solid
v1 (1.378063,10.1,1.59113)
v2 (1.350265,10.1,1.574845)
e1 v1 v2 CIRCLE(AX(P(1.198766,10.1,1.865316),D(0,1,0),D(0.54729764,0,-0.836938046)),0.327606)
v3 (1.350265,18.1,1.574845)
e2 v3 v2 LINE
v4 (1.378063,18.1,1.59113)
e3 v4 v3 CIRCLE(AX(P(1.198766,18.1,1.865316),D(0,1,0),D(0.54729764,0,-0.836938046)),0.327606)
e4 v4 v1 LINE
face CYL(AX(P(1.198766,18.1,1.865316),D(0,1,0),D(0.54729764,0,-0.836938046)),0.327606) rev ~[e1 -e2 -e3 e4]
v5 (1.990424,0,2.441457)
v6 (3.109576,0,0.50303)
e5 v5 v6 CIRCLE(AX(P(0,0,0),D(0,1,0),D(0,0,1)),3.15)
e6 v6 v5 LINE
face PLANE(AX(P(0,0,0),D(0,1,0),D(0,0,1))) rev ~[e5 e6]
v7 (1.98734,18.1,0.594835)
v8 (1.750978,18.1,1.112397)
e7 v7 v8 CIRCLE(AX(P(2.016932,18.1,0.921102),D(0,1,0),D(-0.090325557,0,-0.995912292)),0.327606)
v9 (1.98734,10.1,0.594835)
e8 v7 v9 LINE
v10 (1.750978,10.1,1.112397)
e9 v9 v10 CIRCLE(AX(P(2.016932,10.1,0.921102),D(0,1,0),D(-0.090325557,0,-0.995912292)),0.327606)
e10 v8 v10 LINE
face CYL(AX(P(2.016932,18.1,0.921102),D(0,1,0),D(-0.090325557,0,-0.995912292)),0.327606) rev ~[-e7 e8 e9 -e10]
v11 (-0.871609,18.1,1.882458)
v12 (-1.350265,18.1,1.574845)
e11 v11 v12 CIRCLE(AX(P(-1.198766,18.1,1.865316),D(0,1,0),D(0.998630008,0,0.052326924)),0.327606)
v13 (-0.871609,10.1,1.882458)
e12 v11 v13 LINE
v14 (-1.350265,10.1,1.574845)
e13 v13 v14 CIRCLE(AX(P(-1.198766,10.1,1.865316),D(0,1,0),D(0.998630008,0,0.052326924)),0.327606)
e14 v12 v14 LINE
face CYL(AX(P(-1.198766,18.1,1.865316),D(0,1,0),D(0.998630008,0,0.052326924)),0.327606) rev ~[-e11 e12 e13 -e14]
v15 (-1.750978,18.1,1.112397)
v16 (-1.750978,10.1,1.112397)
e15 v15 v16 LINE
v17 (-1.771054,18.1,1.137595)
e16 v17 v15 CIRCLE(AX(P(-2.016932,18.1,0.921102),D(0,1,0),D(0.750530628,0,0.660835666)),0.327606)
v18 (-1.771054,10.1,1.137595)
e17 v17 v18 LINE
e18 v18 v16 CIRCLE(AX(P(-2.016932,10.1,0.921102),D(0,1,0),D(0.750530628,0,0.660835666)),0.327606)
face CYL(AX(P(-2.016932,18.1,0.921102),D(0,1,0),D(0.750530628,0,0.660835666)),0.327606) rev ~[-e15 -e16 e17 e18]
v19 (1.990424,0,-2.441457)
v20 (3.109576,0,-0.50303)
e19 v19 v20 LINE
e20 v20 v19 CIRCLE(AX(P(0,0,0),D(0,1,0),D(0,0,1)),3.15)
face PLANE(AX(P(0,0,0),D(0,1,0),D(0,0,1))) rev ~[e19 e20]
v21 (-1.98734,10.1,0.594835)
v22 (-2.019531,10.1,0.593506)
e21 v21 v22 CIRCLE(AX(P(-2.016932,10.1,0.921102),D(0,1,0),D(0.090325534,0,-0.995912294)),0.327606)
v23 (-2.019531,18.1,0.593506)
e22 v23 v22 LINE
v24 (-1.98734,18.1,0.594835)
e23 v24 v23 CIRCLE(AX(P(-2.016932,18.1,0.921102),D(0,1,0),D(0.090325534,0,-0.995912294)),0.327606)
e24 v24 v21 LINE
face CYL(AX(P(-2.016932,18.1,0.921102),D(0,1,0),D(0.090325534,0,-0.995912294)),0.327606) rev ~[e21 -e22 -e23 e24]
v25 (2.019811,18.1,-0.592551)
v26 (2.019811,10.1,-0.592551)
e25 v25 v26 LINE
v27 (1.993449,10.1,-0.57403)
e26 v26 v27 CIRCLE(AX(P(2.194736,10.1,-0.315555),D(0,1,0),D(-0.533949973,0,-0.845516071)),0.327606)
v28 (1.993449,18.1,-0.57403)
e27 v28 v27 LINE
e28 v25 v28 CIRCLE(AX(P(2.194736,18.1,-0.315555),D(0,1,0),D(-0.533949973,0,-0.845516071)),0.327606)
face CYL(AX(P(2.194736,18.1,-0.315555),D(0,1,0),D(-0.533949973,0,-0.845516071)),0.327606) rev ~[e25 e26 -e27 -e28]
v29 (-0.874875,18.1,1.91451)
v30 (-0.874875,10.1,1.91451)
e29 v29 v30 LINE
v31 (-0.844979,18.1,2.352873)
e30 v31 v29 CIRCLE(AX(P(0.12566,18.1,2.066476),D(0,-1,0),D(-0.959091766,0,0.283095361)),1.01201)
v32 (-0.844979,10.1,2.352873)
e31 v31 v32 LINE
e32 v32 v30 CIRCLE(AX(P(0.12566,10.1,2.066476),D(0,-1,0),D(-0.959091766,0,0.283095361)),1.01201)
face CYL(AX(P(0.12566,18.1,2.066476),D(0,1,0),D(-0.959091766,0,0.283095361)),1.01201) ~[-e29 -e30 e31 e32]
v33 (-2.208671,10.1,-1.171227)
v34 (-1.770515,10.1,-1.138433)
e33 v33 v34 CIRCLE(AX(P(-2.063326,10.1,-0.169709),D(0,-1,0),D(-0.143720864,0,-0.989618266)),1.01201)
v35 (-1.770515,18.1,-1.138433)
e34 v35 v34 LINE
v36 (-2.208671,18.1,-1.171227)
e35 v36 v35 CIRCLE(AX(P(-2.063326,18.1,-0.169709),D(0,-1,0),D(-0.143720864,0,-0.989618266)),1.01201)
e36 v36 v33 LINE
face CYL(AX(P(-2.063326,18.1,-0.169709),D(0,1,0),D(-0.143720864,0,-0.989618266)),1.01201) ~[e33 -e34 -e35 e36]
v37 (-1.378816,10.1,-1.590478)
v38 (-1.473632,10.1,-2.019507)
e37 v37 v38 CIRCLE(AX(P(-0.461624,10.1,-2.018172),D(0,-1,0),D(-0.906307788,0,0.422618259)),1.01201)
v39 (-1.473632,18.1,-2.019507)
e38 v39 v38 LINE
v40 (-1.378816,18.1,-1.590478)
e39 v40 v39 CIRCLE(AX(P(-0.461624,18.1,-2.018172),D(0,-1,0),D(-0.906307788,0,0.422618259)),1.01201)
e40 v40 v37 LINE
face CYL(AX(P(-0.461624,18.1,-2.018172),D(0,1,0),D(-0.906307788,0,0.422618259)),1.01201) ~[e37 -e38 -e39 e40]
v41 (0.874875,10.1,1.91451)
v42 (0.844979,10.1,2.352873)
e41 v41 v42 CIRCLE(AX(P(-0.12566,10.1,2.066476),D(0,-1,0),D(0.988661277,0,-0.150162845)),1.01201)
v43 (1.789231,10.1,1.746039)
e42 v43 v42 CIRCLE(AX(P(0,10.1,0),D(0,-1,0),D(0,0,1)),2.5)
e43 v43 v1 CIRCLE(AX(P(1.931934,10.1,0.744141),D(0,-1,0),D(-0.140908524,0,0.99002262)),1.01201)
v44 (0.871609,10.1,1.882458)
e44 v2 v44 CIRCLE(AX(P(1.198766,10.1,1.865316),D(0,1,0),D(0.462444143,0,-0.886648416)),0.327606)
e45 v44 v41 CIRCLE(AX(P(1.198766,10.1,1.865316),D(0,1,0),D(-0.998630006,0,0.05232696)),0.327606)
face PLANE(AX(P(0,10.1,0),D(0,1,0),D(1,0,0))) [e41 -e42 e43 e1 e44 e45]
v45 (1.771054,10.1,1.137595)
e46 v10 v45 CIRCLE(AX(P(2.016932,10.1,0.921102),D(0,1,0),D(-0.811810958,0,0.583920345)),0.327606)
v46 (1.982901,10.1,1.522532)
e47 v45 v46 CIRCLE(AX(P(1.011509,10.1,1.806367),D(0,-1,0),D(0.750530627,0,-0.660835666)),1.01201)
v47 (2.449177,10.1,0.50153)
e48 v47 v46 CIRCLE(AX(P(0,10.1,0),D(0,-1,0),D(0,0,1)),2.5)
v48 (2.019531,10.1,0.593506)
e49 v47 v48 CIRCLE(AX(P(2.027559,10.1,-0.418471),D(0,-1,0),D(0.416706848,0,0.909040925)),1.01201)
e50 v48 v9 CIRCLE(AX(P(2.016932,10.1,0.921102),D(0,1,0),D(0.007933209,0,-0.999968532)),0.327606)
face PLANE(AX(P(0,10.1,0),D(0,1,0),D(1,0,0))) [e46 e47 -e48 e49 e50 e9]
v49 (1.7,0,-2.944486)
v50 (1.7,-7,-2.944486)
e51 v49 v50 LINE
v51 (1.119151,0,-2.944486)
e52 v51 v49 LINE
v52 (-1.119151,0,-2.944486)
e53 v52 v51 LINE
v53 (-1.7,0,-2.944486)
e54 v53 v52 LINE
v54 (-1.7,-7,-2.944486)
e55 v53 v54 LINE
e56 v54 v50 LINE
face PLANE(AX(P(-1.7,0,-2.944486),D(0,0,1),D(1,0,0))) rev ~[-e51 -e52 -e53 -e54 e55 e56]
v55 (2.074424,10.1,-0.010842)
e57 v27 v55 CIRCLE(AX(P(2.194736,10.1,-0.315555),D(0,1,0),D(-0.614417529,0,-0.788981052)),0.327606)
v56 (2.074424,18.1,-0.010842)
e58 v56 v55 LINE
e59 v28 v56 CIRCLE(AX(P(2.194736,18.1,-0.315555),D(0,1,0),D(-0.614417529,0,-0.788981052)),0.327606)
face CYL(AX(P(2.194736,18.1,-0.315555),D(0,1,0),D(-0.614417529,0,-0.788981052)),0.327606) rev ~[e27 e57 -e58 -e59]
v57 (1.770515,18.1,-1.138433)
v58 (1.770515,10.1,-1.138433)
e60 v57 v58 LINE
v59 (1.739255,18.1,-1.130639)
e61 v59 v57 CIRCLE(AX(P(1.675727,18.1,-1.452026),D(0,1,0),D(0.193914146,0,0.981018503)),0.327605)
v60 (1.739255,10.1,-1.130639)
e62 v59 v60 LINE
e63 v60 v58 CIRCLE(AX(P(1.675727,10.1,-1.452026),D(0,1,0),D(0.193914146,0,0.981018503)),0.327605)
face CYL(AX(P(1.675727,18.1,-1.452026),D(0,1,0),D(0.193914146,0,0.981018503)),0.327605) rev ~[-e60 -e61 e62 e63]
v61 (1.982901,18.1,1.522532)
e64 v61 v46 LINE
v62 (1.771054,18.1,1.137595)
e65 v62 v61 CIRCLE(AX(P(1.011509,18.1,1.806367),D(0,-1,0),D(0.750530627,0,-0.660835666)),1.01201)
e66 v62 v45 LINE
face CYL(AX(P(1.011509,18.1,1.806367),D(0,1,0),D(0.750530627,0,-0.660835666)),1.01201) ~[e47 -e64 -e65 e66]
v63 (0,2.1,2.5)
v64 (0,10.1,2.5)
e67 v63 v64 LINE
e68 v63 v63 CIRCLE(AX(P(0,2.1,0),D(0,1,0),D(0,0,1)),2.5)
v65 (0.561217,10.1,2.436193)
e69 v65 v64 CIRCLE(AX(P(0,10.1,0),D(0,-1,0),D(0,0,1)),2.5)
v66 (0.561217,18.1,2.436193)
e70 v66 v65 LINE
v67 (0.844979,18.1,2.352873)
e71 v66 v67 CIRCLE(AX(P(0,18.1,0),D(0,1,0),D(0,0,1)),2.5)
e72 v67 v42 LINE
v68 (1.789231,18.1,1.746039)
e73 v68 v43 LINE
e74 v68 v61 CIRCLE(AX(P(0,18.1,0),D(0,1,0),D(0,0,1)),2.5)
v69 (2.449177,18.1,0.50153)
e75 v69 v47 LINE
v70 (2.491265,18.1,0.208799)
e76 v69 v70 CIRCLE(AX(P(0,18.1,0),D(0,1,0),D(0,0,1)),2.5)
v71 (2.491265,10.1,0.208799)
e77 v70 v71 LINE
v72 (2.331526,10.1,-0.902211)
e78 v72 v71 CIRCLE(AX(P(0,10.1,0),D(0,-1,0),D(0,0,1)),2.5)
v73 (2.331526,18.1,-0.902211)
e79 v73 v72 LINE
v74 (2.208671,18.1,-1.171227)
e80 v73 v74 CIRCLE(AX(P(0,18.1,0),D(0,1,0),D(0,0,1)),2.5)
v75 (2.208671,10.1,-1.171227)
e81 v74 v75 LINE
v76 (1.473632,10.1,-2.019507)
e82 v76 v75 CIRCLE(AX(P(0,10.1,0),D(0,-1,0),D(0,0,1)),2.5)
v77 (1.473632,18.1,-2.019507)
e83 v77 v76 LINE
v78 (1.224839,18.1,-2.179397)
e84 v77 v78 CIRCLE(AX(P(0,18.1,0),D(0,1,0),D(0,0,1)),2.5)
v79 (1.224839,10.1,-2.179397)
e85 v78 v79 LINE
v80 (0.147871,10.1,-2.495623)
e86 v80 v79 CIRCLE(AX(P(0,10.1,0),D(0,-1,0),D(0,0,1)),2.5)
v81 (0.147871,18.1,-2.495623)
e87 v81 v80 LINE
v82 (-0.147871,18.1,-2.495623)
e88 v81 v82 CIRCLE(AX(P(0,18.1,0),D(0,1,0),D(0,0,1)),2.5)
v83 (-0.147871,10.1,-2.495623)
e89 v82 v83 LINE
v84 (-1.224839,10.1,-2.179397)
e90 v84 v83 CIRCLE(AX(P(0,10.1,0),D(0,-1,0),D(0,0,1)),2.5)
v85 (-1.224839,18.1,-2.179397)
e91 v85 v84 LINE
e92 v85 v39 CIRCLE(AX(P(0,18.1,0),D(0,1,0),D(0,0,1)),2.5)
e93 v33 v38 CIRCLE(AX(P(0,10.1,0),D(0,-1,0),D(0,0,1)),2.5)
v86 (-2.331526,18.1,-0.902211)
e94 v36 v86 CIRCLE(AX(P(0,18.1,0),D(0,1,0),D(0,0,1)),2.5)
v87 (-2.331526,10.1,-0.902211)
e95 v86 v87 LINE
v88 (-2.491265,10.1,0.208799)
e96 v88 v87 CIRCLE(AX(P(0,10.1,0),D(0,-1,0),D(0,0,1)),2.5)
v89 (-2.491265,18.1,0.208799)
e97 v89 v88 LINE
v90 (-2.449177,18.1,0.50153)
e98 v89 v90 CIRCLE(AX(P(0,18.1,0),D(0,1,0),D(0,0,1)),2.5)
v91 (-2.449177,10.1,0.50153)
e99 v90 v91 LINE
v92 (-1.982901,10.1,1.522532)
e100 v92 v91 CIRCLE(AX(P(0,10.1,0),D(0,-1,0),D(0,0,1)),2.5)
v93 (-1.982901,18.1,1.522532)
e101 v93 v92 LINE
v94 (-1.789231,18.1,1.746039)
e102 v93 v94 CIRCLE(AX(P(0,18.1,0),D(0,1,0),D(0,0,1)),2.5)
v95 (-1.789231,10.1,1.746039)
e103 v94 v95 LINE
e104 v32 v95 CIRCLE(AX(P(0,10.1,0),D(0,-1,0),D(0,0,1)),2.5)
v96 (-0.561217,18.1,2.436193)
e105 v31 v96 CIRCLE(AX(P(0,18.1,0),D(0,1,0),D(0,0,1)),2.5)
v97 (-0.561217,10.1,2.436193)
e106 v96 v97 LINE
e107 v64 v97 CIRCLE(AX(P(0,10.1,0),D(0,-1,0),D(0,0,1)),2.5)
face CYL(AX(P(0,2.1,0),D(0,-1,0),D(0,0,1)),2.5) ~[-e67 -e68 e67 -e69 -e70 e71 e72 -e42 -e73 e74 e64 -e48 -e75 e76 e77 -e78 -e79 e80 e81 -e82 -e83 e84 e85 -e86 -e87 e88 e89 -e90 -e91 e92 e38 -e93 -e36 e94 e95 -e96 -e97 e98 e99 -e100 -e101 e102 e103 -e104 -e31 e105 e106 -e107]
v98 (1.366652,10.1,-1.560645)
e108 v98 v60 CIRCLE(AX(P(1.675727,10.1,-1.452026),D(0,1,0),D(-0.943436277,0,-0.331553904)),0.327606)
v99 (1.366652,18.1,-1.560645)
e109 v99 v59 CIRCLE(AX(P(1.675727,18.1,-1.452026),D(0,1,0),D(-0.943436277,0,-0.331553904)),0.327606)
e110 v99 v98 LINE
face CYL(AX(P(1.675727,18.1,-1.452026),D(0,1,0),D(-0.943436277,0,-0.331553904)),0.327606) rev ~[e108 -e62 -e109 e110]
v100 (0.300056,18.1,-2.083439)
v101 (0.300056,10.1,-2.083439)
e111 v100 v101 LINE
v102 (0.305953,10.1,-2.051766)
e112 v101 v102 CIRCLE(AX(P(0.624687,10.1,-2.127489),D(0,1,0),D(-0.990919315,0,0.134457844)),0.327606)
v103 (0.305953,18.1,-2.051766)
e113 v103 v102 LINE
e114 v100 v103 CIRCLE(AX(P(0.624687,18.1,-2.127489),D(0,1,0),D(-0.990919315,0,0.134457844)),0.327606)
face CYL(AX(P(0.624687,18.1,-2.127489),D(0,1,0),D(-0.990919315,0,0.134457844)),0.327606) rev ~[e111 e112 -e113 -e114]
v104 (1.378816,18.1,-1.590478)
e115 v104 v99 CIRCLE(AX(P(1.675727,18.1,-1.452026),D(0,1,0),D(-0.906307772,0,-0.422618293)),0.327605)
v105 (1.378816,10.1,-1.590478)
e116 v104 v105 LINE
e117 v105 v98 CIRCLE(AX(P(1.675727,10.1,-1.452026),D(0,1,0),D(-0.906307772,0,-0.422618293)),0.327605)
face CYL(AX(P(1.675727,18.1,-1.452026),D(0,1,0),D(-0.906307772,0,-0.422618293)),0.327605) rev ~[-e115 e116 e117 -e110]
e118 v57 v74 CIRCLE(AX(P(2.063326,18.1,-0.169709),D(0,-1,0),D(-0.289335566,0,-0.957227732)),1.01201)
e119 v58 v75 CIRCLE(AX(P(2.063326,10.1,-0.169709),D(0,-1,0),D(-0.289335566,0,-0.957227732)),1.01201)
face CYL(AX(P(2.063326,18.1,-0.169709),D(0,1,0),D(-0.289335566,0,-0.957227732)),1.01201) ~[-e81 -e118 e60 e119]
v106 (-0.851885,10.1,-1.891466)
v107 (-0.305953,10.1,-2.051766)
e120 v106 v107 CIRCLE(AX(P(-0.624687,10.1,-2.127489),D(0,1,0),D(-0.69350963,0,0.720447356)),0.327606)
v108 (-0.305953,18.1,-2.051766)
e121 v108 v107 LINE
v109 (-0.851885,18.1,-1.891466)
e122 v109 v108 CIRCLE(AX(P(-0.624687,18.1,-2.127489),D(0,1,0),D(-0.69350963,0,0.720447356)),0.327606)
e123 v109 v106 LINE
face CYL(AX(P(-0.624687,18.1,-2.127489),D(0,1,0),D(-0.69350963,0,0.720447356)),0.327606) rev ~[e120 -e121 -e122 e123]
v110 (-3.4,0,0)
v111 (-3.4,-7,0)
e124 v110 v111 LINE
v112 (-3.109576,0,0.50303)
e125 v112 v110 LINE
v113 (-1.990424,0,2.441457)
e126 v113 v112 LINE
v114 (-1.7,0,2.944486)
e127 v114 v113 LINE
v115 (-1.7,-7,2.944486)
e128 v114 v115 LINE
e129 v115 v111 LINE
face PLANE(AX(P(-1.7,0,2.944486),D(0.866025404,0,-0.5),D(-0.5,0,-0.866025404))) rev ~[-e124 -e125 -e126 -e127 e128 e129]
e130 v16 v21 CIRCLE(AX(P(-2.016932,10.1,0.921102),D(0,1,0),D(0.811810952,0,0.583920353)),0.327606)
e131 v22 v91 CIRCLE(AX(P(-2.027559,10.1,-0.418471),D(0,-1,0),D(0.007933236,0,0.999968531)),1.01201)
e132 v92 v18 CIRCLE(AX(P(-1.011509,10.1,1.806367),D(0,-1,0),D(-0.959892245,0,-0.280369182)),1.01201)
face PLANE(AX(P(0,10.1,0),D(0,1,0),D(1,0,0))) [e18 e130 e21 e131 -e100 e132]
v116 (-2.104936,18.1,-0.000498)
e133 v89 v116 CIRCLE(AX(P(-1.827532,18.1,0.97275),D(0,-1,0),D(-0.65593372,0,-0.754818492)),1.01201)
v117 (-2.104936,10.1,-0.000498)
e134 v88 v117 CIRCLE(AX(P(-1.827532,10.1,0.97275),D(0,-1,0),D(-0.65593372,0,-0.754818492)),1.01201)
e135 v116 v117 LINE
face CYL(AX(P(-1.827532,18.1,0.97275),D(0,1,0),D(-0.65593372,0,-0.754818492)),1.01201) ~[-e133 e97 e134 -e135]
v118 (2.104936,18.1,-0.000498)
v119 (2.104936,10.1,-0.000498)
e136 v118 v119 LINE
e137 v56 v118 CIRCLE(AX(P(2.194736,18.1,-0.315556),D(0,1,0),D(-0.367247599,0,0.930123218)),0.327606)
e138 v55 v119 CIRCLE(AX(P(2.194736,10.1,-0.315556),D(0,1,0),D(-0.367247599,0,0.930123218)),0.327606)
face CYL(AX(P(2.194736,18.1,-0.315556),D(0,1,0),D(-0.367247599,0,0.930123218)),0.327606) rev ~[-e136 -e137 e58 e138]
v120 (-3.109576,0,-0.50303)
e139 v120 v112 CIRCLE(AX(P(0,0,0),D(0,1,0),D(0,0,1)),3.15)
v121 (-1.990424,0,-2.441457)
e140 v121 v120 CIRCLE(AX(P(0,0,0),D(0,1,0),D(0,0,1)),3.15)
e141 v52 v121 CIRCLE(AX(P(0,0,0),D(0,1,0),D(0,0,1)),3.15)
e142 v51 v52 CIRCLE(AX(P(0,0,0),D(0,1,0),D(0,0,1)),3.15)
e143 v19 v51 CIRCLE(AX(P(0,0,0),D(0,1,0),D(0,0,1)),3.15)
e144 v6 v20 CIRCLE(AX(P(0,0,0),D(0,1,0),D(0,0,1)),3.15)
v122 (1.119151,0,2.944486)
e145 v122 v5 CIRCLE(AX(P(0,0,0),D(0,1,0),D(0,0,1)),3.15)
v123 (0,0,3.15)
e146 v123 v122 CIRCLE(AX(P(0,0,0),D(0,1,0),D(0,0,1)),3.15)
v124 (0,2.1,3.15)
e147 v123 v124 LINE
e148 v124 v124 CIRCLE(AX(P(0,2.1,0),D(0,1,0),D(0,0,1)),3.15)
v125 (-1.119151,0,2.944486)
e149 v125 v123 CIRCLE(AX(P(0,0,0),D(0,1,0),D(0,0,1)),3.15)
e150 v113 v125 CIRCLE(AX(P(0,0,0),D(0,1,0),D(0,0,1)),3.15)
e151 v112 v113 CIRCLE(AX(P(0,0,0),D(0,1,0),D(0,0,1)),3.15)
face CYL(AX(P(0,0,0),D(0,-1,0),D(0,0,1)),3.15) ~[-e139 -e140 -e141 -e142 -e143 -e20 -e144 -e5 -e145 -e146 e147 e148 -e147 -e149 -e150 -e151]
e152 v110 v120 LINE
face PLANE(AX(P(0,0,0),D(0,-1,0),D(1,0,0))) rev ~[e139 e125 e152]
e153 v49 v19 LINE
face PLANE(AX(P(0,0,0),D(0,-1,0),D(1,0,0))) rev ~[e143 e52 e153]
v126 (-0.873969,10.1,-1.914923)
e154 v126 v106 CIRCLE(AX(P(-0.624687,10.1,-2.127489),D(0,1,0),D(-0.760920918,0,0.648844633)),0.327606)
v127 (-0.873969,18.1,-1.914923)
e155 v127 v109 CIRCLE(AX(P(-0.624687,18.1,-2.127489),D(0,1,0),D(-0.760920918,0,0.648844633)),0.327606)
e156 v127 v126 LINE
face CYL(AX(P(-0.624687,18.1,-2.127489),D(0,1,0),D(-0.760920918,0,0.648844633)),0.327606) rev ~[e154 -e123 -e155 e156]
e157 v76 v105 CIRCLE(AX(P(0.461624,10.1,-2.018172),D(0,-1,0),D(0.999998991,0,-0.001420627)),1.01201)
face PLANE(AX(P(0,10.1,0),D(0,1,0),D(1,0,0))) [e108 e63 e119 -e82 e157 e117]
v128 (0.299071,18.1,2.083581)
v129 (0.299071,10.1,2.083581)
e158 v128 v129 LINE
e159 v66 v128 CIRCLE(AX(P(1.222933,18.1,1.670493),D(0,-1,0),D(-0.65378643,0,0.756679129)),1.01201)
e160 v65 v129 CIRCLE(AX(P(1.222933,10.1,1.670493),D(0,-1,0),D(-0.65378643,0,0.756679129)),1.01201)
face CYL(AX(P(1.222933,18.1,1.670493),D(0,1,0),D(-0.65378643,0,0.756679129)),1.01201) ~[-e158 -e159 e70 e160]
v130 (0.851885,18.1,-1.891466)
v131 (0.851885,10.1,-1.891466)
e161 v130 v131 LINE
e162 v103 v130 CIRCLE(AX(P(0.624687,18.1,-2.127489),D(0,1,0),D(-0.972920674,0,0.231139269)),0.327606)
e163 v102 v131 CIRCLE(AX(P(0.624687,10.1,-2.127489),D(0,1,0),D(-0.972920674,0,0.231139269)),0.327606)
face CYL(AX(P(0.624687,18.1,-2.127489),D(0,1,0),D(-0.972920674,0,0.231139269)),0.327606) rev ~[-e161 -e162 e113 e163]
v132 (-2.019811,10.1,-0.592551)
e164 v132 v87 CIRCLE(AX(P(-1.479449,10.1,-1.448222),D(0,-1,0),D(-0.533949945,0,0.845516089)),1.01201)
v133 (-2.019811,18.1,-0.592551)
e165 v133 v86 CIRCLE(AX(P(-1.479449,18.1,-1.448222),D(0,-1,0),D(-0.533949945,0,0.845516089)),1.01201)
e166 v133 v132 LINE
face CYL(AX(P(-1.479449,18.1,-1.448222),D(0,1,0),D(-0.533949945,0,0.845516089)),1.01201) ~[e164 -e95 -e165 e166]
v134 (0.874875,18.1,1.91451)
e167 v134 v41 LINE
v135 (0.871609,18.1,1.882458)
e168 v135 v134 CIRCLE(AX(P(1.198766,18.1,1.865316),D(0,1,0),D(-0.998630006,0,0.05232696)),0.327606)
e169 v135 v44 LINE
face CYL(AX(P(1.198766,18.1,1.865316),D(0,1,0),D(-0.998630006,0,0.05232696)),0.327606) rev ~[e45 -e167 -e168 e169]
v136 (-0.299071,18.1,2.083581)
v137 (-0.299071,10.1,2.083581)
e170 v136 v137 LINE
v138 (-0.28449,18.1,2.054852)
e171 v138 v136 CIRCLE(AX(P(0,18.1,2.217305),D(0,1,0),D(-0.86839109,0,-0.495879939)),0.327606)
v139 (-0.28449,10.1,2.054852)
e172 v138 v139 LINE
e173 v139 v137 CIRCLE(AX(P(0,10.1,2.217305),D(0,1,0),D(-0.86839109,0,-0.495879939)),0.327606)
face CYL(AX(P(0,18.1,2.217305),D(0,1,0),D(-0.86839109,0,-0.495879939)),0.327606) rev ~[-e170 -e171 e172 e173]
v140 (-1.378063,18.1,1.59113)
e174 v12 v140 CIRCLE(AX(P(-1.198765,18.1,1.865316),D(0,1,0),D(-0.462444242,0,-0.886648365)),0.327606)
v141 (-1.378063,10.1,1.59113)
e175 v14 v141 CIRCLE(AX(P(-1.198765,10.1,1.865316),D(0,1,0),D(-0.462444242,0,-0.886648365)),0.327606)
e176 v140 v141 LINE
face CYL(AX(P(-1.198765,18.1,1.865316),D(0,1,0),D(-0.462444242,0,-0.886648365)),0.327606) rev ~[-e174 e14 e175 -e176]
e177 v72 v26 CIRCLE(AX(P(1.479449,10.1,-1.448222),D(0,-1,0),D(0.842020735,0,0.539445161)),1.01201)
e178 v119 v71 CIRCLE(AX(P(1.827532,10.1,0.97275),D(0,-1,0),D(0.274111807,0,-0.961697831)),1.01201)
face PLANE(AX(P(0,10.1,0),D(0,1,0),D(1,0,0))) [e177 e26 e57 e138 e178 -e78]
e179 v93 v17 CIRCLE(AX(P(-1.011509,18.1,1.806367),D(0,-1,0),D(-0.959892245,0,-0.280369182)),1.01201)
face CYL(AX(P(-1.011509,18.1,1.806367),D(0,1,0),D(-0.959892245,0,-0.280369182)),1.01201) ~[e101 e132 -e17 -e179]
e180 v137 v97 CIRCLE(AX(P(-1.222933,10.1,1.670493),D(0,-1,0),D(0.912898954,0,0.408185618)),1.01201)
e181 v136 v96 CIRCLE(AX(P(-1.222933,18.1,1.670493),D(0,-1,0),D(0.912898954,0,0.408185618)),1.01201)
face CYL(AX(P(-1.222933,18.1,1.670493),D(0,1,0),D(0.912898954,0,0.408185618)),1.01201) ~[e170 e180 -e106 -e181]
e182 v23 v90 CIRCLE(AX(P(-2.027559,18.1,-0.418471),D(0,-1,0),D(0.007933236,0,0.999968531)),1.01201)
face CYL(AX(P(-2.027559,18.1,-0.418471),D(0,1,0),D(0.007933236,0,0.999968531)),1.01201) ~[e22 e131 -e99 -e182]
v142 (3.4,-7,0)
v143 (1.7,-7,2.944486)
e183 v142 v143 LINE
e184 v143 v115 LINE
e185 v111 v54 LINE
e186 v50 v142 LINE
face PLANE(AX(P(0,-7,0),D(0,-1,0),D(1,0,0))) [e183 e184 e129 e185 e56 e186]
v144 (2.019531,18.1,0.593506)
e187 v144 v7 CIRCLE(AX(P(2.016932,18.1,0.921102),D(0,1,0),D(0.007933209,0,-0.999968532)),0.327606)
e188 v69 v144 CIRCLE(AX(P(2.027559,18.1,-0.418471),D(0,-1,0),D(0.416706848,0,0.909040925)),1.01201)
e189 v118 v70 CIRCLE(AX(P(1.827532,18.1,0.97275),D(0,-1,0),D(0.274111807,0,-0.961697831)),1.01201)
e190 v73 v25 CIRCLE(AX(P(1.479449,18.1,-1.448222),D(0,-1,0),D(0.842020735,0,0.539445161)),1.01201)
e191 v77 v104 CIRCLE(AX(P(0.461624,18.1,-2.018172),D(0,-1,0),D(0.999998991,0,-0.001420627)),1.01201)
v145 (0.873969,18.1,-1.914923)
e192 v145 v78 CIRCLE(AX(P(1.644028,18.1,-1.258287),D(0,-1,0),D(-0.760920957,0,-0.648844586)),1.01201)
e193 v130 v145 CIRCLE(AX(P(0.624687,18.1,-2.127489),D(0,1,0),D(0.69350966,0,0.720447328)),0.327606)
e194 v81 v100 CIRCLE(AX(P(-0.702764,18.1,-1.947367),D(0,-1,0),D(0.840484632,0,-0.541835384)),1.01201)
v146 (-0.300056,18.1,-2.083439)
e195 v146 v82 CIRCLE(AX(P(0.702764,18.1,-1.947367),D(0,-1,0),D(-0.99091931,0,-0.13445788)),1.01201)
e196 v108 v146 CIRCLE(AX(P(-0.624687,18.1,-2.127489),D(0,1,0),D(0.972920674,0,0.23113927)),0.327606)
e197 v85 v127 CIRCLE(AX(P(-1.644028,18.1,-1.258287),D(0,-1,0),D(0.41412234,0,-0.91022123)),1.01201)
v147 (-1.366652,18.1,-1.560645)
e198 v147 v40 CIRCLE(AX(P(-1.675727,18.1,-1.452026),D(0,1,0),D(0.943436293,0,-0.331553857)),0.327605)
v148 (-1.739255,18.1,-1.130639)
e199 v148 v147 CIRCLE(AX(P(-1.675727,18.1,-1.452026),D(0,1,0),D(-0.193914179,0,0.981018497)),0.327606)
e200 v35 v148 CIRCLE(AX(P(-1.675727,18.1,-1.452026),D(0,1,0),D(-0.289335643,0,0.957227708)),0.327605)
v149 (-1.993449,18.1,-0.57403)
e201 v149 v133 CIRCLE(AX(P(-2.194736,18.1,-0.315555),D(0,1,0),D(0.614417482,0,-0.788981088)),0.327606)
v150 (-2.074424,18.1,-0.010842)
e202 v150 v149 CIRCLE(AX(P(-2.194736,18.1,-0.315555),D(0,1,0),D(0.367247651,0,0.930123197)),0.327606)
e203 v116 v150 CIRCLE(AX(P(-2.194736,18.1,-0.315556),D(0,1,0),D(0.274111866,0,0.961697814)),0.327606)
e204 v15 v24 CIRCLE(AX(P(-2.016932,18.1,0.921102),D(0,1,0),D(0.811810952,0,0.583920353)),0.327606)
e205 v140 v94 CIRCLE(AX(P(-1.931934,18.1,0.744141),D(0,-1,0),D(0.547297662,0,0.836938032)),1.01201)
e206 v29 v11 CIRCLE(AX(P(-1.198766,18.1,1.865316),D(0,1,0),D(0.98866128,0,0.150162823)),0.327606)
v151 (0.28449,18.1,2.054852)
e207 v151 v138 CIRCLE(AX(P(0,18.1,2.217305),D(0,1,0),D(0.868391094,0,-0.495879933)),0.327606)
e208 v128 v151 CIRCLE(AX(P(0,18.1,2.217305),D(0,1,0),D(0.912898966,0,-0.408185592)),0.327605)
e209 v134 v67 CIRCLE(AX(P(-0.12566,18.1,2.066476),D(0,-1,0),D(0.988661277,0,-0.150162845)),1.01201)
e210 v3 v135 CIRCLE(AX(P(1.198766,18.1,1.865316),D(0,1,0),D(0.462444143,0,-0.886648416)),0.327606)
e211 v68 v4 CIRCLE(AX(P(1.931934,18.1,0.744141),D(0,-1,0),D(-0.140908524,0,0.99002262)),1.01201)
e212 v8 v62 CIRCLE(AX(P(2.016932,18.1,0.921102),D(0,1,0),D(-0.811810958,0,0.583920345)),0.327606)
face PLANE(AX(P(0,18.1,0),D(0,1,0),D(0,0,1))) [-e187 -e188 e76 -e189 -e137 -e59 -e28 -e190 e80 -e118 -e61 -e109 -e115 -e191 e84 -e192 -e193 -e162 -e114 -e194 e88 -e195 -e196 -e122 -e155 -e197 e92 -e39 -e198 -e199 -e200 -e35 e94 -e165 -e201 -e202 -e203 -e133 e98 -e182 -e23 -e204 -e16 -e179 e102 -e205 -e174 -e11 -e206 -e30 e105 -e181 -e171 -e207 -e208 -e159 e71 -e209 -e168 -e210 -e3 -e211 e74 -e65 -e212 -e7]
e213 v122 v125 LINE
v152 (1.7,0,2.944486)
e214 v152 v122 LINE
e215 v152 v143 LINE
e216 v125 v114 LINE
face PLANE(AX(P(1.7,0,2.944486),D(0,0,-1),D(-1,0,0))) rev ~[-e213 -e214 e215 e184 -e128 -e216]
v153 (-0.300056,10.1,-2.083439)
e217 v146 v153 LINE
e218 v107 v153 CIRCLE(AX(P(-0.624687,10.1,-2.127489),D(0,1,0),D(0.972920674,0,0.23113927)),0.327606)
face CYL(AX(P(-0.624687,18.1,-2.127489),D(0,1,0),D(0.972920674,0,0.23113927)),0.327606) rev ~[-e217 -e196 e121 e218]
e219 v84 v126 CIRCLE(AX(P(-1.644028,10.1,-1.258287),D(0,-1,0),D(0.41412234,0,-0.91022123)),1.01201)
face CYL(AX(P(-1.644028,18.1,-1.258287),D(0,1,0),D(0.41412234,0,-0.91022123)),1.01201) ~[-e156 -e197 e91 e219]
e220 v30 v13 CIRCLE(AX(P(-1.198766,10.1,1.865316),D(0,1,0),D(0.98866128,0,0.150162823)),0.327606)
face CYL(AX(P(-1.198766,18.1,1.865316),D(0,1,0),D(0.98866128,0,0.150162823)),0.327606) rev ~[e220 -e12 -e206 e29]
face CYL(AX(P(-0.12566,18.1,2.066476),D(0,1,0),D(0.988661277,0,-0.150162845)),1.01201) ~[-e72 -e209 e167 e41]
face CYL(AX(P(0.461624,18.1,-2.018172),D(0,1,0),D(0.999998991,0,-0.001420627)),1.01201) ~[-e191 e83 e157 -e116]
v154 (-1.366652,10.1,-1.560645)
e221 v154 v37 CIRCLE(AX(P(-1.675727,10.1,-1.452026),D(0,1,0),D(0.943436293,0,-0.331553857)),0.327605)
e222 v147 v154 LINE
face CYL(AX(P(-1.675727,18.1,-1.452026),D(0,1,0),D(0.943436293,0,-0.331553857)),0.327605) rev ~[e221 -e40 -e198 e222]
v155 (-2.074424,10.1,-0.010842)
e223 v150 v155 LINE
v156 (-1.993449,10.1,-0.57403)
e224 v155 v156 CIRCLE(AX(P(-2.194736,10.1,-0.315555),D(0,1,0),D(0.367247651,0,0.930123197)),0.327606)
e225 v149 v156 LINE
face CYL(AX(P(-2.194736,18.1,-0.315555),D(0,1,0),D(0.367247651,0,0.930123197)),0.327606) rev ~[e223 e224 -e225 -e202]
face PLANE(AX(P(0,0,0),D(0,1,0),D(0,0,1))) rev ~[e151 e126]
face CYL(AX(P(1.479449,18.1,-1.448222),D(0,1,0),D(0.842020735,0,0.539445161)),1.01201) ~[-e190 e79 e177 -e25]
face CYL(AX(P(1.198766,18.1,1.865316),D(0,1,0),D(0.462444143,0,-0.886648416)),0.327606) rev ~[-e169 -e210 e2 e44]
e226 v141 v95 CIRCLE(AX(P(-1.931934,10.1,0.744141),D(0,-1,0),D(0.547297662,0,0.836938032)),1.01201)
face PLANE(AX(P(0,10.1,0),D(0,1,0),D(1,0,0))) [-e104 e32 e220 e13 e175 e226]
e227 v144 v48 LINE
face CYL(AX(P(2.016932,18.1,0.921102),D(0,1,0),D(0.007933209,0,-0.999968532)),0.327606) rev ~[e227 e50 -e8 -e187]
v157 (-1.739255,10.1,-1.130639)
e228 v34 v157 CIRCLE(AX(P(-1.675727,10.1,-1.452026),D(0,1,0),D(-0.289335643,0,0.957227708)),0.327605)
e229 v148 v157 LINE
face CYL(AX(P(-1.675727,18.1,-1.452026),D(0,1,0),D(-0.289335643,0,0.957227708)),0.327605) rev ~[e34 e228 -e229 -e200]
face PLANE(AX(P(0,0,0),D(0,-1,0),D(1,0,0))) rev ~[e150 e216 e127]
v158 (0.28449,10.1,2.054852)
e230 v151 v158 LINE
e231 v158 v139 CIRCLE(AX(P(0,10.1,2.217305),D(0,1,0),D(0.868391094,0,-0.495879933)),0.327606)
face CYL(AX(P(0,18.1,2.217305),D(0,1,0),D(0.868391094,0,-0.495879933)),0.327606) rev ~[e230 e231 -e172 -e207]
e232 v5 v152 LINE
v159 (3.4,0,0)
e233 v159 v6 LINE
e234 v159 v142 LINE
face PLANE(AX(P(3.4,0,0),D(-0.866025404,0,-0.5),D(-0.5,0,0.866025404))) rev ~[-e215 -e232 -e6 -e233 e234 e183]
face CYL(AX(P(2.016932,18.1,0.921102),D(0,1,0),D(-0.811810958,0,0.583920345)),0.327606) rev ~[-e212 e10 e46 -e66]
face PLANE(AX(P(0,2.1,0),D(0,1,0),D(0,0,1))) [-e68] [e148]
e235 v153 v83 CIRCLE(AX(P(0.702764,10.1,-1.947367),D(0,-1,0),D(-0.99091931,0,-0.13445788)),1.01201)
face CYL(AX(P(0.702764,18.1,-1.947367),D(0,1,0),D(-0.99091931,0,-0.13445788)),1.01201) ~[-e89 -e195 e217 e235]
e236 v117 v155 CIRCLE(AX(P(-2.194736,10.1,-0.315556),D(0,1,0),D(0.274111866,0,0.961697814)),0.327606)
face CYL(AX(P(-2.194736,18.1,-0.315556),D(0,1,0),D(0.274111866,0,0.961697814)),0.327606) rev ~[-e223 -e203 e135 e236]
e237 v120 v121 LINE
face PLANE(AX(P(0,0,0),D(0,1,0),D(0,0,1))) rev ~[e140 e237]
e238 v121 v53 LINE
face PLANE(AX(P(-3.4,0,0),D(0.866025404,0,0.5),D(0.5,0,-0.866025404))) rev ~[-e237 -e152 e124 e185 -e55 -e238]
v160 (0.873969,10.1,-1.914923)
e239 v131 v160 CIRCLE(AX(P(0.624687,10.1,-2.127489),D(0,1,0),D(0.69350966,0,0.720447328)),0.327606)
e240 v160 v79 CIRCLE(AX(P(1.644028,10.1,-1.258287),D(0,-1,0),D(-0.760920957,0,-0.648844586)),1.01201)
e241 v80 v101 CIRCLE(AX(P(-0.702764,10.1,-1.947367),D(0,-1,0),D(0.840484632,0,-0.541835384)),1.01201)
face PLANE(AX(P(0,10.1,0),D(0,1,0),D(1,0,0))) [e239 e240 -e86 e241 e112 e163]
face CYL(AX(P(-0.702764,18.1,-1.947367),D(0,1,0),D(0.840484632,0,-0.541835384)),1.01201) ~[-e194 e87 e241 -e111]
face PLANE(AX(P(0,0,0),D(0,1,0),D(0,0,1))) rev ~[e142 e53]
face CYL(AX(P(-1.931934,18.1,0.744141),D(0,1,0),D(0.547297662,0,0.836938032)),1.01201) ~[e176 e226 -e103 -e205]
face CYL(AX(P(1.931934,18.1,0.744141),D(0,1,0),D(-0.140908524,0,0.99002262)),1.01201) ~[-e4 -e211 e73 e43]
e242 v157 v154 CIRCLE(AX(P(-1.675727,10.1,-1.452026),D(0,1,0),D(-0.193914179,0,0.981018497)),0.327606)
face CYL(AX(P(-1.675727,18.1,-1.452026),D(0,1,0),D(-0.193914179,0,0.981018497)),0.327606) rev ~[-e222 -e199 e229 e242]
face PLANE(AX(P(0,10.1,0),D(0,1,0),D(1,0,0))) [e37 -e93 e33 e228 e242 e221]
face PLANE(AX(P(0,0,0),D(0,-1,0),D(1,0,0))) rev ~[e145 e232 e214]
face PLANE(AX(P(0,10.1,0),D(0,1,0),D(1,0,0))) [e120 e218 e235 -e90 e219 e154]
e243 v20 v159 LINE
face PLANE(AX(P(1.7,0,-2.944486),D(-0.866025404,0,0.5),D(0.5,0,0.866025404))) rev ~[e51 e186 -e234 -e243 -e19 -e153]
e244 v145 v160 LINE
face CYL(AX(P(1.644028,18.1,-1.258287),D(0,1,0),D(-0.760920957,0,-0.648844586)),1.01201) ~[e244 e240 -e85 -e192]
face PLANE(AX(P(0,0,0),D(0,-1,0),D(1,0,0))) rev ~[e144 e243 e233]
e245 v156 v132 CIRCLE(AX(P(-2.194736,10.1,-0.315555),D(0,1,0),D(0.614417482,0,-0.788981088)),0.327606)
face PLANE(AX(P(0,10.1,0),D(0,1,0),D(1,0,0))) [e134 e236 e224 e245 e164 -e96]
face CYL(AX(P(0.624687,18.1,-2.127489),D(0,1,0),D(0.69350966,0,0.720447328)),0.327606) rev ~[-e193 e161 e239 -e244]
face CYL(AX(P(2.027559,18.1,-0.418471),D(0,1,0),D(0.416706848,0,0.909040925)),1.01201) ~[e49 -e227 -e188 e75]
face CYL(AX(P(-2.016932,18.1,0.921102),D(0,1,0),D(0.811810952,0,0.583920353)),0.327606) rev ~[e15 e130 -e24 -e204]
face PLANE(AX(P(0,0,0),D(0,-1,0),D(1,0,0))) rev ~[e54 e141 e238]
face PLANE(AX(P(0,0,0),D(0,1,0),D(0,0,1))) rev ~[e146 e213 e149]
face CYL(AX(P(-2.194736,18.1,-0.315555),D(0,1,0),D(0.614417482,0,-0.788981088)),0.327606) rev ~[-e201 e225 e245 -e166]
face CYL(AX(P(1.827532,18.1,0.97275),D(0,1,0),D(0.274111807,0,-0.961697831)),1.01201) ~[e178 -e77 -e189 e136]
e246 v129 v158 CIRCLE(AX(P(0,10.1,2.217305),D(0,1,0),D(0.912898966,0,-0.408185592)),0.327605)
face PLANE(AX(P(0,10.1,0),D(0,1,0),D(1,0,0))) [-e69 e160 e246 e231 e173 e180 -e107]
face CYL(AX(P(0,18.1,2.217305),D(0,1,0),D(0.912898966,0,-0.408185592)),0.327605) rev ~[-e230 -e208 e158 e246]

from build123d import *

# Parameters (mm, degrees)
SKETCH1_R           = 3.15
BOSS_EXTRUDE1_DEPTH = 2.1
SKETCH2_R           = 2.5
BOSS_EXTRUDE3_DEPTH = 16
SKETCH8_OUTSIDE_W   = 12.334
SKETCH8_OUTSIDE_H   = 12.334
CUT_EXTRUDE5_DEPTH  = 8
BOSS_EXTRUDE4_DEPTH = 7


with BuildPart() as part:
    # Sketch1 → Boss-Extrude1 (new body)
    with BuildSketch(Plane(origin=(0, 0, 0), x_dir=(1, 0, 0), z_dir=(0, 1, 0))):
        with Locations(Location((0, 0, 0), (0, 0, 270))):
            Circle(SKETCH1_R)
    extrude(amount=BOSS_EXTRUDE1_DEPTH)

    # Sketch2 → Boss-Extrude3 (add)
    with BuildSketch(Plane(origin=(0, 2.1, 0), x_dir=(1, 0, 0), z_dir=(0, 1, 0))):
        with Locations(Location((0, 0, 0), (0, 0, 270))):
            Circle(SKETCH2_R)
    extrude(amount=BOSS_EXTRUDE3_DEPTH)

    # Sketch8 outside → Cut-Extrude5 (cut)
    with BuildSketch(Plane(origin=(0, 18.1, 0), x_dir=(1, 0, 0), z_dir=(0, 1, 0))):
        Rectangle(SKETCH8_OUTSIDE_W, SKETCH8_OUTSIDE_H)
        with BuildLine():
            ThreePointArc((-0.874874584, -1.914509945), (-0.872847435, -1.898524314), (-0.871608771, -1.882458342))
            ThreePointArc((-0.871608771, -1.882458342), (-1.021648634, -1.589716304), (-1.350264969, -1.574844682))
            ThreePointArc((-1.350264969, -1.574844682), (-1.364364531, -1.582645457), (-1.378063464, -1.591130087))
            ThreePointArc((-1.378063464, -1.591130087), (-1.575187068, -1.691186219), (-1.789333192, -1.746053167))
            ThreePointArc((-1.789333192, -1.746053167), (-1.889436652, -1.637206179), (-1.982929527, -1.522631086))
            ThreePointArc((-1.982929527, -1.522631086), (-1.898144875, -1.318473041), (-1.771053556, -1.137595344))
            ThreePointArc((-1.771053556, -1.137595344), (-1.760705725, -1.125243335), (-1.750977775, -1.112397452))
            ThreePointArc((-1.750977775, -1.112397452), (-1.718931045, -0.785009505), (-1.987340492, -0.594835296))
            ThreePointArc((-1.987340492, -0.594835296), (-2.003419215, -0.593774926), (-2.019530629, -0.593506449))
            ThreePointArc((-2.019530629, -0.593506449), (-2.239455986, -0.571105958), (-2.449270481, -0.501486836))
            ThreePointArc((-2.449270481, -0.501486836), (-2.474635746, -0.355798906), (-2.491342985, -0.20886614))
            ThreePointArc((-2.491342985, -0.20886614), (-2.309641425, -0.082955507), (-2.104935538, 0.00049774))
            ThreePointArc((-2.104935538, 0.00049774), (-2.089552388, 0.005294452), (-2.074423707, 0.010841769))
            ThreePointArc((-2.074423707, 0.010841769), (-1.870464994, 0.268932266), (-1.99344945, 0.574030094))
            ThreePointArc((-1.99344945, 0.574030094), (-2.006402454, 0.583614948), (-2.019811088, 0.592551293))
            ThreePointArc((-2.019811088, 0.592551293), (-2.192713451, 0.73029641), (-2.331581698, 0.902298023))
            ThreePointArc((-2.331581698, 0.902298023), (-2.274155475, 1.038572006), (-2.208772648, 1.17121233))
            ThreePointArc((-2.208772648, 1.17121233), (-1.987843141, 1.178899814), (-1.770515359, 1.138432796))
            ThreePointArc((-1.770515359, 1.138432796), (-1.754980932, 1.134151287), (-1.739254769, 1.130638805))
            ThreePointArc((-1.739254769, 1.130638805), (-1.428139525, 1.237489942), (-1.366652294, 1.560644985))
            ThreePointArc((-1.366652294, 1.560644985), (-1.37236709, 1.5757112), (-1.378815798, 1.590478186))
            ThreePointArc((-1.378815798, 1.590478186), (-1.449799889, 1.799834828), (-1.4736322, 2.019609634))
            ThreePointArc((-1.4736322, 2.019609634), (-1.351646909, 2.103203644), (-1.224932602, 2.179439161))
            ThreePointArc((-1.224932602, 2.179439161), (-1.034918706, 2.066462775), (-0.873969064, 1.914923482))
            ThreePointArc((-0.873969064, 1.914923482), (-0.86321543, 1.902923103), (-0.851884731, 1.891466009))
            ThreePointArc((-0.851884731, 1.891466009), (-0.532389846, 1.813153306), (-0.30595269, 2.05176612))
            ThreePointArc((-0.30595269, 2.05176612), (-0.302614872, 2.067530279), (-0.300056235, 2.083439494))
            ThreePointArc((-0.300056235, 2.083439494), (-0.246585106, 2.297938405), (-0.14781489, 2.495709457))
            ThreePointArc((-0.14781489, 2.495709457), (-0.073939789, 2.498989364), (0, 2.500082986))
            ThreePointArc((0, 2.500082986), (0.073939789, 2.498989364), (0.14781489, 2.495709457))
            ThreePointArc((0.14781489, 2.495709457), (0.246585106, 2.297938405), (0.300056235, 2.083439494))
            ThreePointArc((0.300056235, 2.083439494), (0.302614872, 2.067530279), (0.30595269, 2.05176612))
            ThreePointArc((0.30595269, 2.05176612), (0.532389846, 1.813153306), (0.851884731, 1.891466009))
            ThreePointArc((0.851884731, 1.891466009), (0.86321543, 1.902923103), (0.873969064, 1.914923482))
            ThreePointArc((0.873969064, 1.914923482), (1.034918706, 2.066462775), (1.224932602, 2.179439161))
            ThreePointArc((1.224932602, 2.179439161), (1.351646909, 2.103203644), (1.4736322, 2.019609634))
            ThreePointArc((1.4736322, 2.019609634), (1.449799889, 1.799834828), (1.378815798, 1.590478186))
            ThreePointArc((1.378815798, 1.590478186), (1.37236709, 1.5757112), (1.366652294, 1.560644985))
            ThreePointArc((1.366652294, 1.560644985), (1.428139525, 1.237489942), (1.739254769, 1.130638805))
            ThreePointArc((1.739254769, 1.130638805), (1.754980932, 1.134151287), (1.770515359, 1.138432796))
            ThreePointArc((1.770515359, 1.138432796), (1.987843141, 1.178899814), (2.208772648, 1.17121233))
            ThreePointArc((2.208772648, 1.17121233), (2.274155475, 1.038572006), (2.331581698, 0.902298023))
            ThreePointArc((2.331581698, 0.902298023), (2.192713451, 0.73029641), (2.019811088, 0.592551293))
            ThreePointArc((2.019811088, 0.592551293), (2.006402454, 0.583614948), (1.99344945, 0.574030094))
            ThreePointArc((1.99344945, 0.574030094), (1.870464994, 0.268932266), (2.074423707, 0.010841769))
            ThreePointArc((2.074423707, 0.010841769), (2.089552388, 0.005294452), (2.104935538, 0.00049774))
            ThreePointArc((2.104935538, 0.00049774), (2.309641425, -0.082955507), (2.491342985, -0.20886614))
            ThreePointArc((2.491342985, -0.20886614), (2.474635746, -0.355798906), (2.449270481, -0.501486836))
            ThreePointArc((2.449270481, -0.501486836), (2.239455986, -0.571105958), (2.019530629, -0.593506449))
            ThreePointArc((2.019530629, -0.593506449), (2.003419215, -0.593774926), (1.987340492, -0.594835296))
            ThreePointArc((1.987340492, -0.594835296), (1.718931045, -0.785009505), (1.750977775, -1.112397452))
            ThreePointArc((1.750977775, -1.112397452), (1.760705725, -1.125243335), (1.771053556, -1.137595344))
            ThreePointArc((1.771053556, -1.137595344), (1.898144875, -1.318473041), (1.982929527, -1.522631086))
            ThreePointArc((1.982929527, -1.522631086), (1.889436652, -1.637206179), (1.789333192, -1.746053167))
            ThreePointArc((1.789333192, -1.746053167), (1.575187069, -1.691186219), (1.378063467, -1.591130087))
            ThreePointArc((1.378063467, -1.591130087), (1.364364533, -1.582645456), (1.350264971, -1.574844682))
            ThreePointArc((1.350264971, -1.574844682), (1.021648634, -1.589716304), (0.871608771, -1.882458343))
            ThreePointArc((0.871608771, -1.882458343), (0.872847435, -1.898524314), (0.874874584, -1.914509946))
            ThreePointArc((0.874874584, -1.914509946), (0.884000739, -2.135384701), (0.844949955, -2.352971421))
            ThreePointArc((0.844949955, -2.352971421), (0.704354772, -2.398812058), (0.561295258, -2.436259955))
            ThreePointArc((0.561295258, -2.436259955), (0.410807386, -2.274326806), (0.299070887, -2.083581165))
            ThreePointArc((0.299070887, -2.083581165), (0.292133749, -2.069037237), (0.284489859, -2.05485201))
            ThreePointArc((0.284489859, -2.05485201), (0, -1.88969941), (-0.284489859, -2.054852009))
            ThreePointArc((-0.284489859, -2.054852009), (-0.292133749, -2.069037237), (-0.299070887, -2.083581165))
            ThreePointArc((-0.299070887, -2.083581165), (-0.410807386, -2.274326806), (-0.561295258, -2.436259955))
            ThreePointArc((-0.561295258, -2.436259955), (-0.704354772, -2.398812058), (-0.844949955, -2.352971421))
            ThreePointArc((-0.844949955, -2.352971421), (-0.884000739, -2.135384701), (-0.874874584, -1.914509945))
        make_face(mode=Mode.SUBTRACT)
    extrude(amount=-CUT_EXTRUDE5_DEPTH, mode=Mode.SUBTRACT)

    # Sketch9 → Boss-Extrude4 (add)
    with BuildSketch(Plane.XZ):
        Polygon((3.4, 0), (1.7, 2.944486373), (-1.7, 2.944486373), (-3.4, 0), (-1.7, -2.944486373), (1.7, -2.944486373), align=None)
    extrude(amount=BOSS_EXTRUDE4_DEPTH)


solid = part.part
